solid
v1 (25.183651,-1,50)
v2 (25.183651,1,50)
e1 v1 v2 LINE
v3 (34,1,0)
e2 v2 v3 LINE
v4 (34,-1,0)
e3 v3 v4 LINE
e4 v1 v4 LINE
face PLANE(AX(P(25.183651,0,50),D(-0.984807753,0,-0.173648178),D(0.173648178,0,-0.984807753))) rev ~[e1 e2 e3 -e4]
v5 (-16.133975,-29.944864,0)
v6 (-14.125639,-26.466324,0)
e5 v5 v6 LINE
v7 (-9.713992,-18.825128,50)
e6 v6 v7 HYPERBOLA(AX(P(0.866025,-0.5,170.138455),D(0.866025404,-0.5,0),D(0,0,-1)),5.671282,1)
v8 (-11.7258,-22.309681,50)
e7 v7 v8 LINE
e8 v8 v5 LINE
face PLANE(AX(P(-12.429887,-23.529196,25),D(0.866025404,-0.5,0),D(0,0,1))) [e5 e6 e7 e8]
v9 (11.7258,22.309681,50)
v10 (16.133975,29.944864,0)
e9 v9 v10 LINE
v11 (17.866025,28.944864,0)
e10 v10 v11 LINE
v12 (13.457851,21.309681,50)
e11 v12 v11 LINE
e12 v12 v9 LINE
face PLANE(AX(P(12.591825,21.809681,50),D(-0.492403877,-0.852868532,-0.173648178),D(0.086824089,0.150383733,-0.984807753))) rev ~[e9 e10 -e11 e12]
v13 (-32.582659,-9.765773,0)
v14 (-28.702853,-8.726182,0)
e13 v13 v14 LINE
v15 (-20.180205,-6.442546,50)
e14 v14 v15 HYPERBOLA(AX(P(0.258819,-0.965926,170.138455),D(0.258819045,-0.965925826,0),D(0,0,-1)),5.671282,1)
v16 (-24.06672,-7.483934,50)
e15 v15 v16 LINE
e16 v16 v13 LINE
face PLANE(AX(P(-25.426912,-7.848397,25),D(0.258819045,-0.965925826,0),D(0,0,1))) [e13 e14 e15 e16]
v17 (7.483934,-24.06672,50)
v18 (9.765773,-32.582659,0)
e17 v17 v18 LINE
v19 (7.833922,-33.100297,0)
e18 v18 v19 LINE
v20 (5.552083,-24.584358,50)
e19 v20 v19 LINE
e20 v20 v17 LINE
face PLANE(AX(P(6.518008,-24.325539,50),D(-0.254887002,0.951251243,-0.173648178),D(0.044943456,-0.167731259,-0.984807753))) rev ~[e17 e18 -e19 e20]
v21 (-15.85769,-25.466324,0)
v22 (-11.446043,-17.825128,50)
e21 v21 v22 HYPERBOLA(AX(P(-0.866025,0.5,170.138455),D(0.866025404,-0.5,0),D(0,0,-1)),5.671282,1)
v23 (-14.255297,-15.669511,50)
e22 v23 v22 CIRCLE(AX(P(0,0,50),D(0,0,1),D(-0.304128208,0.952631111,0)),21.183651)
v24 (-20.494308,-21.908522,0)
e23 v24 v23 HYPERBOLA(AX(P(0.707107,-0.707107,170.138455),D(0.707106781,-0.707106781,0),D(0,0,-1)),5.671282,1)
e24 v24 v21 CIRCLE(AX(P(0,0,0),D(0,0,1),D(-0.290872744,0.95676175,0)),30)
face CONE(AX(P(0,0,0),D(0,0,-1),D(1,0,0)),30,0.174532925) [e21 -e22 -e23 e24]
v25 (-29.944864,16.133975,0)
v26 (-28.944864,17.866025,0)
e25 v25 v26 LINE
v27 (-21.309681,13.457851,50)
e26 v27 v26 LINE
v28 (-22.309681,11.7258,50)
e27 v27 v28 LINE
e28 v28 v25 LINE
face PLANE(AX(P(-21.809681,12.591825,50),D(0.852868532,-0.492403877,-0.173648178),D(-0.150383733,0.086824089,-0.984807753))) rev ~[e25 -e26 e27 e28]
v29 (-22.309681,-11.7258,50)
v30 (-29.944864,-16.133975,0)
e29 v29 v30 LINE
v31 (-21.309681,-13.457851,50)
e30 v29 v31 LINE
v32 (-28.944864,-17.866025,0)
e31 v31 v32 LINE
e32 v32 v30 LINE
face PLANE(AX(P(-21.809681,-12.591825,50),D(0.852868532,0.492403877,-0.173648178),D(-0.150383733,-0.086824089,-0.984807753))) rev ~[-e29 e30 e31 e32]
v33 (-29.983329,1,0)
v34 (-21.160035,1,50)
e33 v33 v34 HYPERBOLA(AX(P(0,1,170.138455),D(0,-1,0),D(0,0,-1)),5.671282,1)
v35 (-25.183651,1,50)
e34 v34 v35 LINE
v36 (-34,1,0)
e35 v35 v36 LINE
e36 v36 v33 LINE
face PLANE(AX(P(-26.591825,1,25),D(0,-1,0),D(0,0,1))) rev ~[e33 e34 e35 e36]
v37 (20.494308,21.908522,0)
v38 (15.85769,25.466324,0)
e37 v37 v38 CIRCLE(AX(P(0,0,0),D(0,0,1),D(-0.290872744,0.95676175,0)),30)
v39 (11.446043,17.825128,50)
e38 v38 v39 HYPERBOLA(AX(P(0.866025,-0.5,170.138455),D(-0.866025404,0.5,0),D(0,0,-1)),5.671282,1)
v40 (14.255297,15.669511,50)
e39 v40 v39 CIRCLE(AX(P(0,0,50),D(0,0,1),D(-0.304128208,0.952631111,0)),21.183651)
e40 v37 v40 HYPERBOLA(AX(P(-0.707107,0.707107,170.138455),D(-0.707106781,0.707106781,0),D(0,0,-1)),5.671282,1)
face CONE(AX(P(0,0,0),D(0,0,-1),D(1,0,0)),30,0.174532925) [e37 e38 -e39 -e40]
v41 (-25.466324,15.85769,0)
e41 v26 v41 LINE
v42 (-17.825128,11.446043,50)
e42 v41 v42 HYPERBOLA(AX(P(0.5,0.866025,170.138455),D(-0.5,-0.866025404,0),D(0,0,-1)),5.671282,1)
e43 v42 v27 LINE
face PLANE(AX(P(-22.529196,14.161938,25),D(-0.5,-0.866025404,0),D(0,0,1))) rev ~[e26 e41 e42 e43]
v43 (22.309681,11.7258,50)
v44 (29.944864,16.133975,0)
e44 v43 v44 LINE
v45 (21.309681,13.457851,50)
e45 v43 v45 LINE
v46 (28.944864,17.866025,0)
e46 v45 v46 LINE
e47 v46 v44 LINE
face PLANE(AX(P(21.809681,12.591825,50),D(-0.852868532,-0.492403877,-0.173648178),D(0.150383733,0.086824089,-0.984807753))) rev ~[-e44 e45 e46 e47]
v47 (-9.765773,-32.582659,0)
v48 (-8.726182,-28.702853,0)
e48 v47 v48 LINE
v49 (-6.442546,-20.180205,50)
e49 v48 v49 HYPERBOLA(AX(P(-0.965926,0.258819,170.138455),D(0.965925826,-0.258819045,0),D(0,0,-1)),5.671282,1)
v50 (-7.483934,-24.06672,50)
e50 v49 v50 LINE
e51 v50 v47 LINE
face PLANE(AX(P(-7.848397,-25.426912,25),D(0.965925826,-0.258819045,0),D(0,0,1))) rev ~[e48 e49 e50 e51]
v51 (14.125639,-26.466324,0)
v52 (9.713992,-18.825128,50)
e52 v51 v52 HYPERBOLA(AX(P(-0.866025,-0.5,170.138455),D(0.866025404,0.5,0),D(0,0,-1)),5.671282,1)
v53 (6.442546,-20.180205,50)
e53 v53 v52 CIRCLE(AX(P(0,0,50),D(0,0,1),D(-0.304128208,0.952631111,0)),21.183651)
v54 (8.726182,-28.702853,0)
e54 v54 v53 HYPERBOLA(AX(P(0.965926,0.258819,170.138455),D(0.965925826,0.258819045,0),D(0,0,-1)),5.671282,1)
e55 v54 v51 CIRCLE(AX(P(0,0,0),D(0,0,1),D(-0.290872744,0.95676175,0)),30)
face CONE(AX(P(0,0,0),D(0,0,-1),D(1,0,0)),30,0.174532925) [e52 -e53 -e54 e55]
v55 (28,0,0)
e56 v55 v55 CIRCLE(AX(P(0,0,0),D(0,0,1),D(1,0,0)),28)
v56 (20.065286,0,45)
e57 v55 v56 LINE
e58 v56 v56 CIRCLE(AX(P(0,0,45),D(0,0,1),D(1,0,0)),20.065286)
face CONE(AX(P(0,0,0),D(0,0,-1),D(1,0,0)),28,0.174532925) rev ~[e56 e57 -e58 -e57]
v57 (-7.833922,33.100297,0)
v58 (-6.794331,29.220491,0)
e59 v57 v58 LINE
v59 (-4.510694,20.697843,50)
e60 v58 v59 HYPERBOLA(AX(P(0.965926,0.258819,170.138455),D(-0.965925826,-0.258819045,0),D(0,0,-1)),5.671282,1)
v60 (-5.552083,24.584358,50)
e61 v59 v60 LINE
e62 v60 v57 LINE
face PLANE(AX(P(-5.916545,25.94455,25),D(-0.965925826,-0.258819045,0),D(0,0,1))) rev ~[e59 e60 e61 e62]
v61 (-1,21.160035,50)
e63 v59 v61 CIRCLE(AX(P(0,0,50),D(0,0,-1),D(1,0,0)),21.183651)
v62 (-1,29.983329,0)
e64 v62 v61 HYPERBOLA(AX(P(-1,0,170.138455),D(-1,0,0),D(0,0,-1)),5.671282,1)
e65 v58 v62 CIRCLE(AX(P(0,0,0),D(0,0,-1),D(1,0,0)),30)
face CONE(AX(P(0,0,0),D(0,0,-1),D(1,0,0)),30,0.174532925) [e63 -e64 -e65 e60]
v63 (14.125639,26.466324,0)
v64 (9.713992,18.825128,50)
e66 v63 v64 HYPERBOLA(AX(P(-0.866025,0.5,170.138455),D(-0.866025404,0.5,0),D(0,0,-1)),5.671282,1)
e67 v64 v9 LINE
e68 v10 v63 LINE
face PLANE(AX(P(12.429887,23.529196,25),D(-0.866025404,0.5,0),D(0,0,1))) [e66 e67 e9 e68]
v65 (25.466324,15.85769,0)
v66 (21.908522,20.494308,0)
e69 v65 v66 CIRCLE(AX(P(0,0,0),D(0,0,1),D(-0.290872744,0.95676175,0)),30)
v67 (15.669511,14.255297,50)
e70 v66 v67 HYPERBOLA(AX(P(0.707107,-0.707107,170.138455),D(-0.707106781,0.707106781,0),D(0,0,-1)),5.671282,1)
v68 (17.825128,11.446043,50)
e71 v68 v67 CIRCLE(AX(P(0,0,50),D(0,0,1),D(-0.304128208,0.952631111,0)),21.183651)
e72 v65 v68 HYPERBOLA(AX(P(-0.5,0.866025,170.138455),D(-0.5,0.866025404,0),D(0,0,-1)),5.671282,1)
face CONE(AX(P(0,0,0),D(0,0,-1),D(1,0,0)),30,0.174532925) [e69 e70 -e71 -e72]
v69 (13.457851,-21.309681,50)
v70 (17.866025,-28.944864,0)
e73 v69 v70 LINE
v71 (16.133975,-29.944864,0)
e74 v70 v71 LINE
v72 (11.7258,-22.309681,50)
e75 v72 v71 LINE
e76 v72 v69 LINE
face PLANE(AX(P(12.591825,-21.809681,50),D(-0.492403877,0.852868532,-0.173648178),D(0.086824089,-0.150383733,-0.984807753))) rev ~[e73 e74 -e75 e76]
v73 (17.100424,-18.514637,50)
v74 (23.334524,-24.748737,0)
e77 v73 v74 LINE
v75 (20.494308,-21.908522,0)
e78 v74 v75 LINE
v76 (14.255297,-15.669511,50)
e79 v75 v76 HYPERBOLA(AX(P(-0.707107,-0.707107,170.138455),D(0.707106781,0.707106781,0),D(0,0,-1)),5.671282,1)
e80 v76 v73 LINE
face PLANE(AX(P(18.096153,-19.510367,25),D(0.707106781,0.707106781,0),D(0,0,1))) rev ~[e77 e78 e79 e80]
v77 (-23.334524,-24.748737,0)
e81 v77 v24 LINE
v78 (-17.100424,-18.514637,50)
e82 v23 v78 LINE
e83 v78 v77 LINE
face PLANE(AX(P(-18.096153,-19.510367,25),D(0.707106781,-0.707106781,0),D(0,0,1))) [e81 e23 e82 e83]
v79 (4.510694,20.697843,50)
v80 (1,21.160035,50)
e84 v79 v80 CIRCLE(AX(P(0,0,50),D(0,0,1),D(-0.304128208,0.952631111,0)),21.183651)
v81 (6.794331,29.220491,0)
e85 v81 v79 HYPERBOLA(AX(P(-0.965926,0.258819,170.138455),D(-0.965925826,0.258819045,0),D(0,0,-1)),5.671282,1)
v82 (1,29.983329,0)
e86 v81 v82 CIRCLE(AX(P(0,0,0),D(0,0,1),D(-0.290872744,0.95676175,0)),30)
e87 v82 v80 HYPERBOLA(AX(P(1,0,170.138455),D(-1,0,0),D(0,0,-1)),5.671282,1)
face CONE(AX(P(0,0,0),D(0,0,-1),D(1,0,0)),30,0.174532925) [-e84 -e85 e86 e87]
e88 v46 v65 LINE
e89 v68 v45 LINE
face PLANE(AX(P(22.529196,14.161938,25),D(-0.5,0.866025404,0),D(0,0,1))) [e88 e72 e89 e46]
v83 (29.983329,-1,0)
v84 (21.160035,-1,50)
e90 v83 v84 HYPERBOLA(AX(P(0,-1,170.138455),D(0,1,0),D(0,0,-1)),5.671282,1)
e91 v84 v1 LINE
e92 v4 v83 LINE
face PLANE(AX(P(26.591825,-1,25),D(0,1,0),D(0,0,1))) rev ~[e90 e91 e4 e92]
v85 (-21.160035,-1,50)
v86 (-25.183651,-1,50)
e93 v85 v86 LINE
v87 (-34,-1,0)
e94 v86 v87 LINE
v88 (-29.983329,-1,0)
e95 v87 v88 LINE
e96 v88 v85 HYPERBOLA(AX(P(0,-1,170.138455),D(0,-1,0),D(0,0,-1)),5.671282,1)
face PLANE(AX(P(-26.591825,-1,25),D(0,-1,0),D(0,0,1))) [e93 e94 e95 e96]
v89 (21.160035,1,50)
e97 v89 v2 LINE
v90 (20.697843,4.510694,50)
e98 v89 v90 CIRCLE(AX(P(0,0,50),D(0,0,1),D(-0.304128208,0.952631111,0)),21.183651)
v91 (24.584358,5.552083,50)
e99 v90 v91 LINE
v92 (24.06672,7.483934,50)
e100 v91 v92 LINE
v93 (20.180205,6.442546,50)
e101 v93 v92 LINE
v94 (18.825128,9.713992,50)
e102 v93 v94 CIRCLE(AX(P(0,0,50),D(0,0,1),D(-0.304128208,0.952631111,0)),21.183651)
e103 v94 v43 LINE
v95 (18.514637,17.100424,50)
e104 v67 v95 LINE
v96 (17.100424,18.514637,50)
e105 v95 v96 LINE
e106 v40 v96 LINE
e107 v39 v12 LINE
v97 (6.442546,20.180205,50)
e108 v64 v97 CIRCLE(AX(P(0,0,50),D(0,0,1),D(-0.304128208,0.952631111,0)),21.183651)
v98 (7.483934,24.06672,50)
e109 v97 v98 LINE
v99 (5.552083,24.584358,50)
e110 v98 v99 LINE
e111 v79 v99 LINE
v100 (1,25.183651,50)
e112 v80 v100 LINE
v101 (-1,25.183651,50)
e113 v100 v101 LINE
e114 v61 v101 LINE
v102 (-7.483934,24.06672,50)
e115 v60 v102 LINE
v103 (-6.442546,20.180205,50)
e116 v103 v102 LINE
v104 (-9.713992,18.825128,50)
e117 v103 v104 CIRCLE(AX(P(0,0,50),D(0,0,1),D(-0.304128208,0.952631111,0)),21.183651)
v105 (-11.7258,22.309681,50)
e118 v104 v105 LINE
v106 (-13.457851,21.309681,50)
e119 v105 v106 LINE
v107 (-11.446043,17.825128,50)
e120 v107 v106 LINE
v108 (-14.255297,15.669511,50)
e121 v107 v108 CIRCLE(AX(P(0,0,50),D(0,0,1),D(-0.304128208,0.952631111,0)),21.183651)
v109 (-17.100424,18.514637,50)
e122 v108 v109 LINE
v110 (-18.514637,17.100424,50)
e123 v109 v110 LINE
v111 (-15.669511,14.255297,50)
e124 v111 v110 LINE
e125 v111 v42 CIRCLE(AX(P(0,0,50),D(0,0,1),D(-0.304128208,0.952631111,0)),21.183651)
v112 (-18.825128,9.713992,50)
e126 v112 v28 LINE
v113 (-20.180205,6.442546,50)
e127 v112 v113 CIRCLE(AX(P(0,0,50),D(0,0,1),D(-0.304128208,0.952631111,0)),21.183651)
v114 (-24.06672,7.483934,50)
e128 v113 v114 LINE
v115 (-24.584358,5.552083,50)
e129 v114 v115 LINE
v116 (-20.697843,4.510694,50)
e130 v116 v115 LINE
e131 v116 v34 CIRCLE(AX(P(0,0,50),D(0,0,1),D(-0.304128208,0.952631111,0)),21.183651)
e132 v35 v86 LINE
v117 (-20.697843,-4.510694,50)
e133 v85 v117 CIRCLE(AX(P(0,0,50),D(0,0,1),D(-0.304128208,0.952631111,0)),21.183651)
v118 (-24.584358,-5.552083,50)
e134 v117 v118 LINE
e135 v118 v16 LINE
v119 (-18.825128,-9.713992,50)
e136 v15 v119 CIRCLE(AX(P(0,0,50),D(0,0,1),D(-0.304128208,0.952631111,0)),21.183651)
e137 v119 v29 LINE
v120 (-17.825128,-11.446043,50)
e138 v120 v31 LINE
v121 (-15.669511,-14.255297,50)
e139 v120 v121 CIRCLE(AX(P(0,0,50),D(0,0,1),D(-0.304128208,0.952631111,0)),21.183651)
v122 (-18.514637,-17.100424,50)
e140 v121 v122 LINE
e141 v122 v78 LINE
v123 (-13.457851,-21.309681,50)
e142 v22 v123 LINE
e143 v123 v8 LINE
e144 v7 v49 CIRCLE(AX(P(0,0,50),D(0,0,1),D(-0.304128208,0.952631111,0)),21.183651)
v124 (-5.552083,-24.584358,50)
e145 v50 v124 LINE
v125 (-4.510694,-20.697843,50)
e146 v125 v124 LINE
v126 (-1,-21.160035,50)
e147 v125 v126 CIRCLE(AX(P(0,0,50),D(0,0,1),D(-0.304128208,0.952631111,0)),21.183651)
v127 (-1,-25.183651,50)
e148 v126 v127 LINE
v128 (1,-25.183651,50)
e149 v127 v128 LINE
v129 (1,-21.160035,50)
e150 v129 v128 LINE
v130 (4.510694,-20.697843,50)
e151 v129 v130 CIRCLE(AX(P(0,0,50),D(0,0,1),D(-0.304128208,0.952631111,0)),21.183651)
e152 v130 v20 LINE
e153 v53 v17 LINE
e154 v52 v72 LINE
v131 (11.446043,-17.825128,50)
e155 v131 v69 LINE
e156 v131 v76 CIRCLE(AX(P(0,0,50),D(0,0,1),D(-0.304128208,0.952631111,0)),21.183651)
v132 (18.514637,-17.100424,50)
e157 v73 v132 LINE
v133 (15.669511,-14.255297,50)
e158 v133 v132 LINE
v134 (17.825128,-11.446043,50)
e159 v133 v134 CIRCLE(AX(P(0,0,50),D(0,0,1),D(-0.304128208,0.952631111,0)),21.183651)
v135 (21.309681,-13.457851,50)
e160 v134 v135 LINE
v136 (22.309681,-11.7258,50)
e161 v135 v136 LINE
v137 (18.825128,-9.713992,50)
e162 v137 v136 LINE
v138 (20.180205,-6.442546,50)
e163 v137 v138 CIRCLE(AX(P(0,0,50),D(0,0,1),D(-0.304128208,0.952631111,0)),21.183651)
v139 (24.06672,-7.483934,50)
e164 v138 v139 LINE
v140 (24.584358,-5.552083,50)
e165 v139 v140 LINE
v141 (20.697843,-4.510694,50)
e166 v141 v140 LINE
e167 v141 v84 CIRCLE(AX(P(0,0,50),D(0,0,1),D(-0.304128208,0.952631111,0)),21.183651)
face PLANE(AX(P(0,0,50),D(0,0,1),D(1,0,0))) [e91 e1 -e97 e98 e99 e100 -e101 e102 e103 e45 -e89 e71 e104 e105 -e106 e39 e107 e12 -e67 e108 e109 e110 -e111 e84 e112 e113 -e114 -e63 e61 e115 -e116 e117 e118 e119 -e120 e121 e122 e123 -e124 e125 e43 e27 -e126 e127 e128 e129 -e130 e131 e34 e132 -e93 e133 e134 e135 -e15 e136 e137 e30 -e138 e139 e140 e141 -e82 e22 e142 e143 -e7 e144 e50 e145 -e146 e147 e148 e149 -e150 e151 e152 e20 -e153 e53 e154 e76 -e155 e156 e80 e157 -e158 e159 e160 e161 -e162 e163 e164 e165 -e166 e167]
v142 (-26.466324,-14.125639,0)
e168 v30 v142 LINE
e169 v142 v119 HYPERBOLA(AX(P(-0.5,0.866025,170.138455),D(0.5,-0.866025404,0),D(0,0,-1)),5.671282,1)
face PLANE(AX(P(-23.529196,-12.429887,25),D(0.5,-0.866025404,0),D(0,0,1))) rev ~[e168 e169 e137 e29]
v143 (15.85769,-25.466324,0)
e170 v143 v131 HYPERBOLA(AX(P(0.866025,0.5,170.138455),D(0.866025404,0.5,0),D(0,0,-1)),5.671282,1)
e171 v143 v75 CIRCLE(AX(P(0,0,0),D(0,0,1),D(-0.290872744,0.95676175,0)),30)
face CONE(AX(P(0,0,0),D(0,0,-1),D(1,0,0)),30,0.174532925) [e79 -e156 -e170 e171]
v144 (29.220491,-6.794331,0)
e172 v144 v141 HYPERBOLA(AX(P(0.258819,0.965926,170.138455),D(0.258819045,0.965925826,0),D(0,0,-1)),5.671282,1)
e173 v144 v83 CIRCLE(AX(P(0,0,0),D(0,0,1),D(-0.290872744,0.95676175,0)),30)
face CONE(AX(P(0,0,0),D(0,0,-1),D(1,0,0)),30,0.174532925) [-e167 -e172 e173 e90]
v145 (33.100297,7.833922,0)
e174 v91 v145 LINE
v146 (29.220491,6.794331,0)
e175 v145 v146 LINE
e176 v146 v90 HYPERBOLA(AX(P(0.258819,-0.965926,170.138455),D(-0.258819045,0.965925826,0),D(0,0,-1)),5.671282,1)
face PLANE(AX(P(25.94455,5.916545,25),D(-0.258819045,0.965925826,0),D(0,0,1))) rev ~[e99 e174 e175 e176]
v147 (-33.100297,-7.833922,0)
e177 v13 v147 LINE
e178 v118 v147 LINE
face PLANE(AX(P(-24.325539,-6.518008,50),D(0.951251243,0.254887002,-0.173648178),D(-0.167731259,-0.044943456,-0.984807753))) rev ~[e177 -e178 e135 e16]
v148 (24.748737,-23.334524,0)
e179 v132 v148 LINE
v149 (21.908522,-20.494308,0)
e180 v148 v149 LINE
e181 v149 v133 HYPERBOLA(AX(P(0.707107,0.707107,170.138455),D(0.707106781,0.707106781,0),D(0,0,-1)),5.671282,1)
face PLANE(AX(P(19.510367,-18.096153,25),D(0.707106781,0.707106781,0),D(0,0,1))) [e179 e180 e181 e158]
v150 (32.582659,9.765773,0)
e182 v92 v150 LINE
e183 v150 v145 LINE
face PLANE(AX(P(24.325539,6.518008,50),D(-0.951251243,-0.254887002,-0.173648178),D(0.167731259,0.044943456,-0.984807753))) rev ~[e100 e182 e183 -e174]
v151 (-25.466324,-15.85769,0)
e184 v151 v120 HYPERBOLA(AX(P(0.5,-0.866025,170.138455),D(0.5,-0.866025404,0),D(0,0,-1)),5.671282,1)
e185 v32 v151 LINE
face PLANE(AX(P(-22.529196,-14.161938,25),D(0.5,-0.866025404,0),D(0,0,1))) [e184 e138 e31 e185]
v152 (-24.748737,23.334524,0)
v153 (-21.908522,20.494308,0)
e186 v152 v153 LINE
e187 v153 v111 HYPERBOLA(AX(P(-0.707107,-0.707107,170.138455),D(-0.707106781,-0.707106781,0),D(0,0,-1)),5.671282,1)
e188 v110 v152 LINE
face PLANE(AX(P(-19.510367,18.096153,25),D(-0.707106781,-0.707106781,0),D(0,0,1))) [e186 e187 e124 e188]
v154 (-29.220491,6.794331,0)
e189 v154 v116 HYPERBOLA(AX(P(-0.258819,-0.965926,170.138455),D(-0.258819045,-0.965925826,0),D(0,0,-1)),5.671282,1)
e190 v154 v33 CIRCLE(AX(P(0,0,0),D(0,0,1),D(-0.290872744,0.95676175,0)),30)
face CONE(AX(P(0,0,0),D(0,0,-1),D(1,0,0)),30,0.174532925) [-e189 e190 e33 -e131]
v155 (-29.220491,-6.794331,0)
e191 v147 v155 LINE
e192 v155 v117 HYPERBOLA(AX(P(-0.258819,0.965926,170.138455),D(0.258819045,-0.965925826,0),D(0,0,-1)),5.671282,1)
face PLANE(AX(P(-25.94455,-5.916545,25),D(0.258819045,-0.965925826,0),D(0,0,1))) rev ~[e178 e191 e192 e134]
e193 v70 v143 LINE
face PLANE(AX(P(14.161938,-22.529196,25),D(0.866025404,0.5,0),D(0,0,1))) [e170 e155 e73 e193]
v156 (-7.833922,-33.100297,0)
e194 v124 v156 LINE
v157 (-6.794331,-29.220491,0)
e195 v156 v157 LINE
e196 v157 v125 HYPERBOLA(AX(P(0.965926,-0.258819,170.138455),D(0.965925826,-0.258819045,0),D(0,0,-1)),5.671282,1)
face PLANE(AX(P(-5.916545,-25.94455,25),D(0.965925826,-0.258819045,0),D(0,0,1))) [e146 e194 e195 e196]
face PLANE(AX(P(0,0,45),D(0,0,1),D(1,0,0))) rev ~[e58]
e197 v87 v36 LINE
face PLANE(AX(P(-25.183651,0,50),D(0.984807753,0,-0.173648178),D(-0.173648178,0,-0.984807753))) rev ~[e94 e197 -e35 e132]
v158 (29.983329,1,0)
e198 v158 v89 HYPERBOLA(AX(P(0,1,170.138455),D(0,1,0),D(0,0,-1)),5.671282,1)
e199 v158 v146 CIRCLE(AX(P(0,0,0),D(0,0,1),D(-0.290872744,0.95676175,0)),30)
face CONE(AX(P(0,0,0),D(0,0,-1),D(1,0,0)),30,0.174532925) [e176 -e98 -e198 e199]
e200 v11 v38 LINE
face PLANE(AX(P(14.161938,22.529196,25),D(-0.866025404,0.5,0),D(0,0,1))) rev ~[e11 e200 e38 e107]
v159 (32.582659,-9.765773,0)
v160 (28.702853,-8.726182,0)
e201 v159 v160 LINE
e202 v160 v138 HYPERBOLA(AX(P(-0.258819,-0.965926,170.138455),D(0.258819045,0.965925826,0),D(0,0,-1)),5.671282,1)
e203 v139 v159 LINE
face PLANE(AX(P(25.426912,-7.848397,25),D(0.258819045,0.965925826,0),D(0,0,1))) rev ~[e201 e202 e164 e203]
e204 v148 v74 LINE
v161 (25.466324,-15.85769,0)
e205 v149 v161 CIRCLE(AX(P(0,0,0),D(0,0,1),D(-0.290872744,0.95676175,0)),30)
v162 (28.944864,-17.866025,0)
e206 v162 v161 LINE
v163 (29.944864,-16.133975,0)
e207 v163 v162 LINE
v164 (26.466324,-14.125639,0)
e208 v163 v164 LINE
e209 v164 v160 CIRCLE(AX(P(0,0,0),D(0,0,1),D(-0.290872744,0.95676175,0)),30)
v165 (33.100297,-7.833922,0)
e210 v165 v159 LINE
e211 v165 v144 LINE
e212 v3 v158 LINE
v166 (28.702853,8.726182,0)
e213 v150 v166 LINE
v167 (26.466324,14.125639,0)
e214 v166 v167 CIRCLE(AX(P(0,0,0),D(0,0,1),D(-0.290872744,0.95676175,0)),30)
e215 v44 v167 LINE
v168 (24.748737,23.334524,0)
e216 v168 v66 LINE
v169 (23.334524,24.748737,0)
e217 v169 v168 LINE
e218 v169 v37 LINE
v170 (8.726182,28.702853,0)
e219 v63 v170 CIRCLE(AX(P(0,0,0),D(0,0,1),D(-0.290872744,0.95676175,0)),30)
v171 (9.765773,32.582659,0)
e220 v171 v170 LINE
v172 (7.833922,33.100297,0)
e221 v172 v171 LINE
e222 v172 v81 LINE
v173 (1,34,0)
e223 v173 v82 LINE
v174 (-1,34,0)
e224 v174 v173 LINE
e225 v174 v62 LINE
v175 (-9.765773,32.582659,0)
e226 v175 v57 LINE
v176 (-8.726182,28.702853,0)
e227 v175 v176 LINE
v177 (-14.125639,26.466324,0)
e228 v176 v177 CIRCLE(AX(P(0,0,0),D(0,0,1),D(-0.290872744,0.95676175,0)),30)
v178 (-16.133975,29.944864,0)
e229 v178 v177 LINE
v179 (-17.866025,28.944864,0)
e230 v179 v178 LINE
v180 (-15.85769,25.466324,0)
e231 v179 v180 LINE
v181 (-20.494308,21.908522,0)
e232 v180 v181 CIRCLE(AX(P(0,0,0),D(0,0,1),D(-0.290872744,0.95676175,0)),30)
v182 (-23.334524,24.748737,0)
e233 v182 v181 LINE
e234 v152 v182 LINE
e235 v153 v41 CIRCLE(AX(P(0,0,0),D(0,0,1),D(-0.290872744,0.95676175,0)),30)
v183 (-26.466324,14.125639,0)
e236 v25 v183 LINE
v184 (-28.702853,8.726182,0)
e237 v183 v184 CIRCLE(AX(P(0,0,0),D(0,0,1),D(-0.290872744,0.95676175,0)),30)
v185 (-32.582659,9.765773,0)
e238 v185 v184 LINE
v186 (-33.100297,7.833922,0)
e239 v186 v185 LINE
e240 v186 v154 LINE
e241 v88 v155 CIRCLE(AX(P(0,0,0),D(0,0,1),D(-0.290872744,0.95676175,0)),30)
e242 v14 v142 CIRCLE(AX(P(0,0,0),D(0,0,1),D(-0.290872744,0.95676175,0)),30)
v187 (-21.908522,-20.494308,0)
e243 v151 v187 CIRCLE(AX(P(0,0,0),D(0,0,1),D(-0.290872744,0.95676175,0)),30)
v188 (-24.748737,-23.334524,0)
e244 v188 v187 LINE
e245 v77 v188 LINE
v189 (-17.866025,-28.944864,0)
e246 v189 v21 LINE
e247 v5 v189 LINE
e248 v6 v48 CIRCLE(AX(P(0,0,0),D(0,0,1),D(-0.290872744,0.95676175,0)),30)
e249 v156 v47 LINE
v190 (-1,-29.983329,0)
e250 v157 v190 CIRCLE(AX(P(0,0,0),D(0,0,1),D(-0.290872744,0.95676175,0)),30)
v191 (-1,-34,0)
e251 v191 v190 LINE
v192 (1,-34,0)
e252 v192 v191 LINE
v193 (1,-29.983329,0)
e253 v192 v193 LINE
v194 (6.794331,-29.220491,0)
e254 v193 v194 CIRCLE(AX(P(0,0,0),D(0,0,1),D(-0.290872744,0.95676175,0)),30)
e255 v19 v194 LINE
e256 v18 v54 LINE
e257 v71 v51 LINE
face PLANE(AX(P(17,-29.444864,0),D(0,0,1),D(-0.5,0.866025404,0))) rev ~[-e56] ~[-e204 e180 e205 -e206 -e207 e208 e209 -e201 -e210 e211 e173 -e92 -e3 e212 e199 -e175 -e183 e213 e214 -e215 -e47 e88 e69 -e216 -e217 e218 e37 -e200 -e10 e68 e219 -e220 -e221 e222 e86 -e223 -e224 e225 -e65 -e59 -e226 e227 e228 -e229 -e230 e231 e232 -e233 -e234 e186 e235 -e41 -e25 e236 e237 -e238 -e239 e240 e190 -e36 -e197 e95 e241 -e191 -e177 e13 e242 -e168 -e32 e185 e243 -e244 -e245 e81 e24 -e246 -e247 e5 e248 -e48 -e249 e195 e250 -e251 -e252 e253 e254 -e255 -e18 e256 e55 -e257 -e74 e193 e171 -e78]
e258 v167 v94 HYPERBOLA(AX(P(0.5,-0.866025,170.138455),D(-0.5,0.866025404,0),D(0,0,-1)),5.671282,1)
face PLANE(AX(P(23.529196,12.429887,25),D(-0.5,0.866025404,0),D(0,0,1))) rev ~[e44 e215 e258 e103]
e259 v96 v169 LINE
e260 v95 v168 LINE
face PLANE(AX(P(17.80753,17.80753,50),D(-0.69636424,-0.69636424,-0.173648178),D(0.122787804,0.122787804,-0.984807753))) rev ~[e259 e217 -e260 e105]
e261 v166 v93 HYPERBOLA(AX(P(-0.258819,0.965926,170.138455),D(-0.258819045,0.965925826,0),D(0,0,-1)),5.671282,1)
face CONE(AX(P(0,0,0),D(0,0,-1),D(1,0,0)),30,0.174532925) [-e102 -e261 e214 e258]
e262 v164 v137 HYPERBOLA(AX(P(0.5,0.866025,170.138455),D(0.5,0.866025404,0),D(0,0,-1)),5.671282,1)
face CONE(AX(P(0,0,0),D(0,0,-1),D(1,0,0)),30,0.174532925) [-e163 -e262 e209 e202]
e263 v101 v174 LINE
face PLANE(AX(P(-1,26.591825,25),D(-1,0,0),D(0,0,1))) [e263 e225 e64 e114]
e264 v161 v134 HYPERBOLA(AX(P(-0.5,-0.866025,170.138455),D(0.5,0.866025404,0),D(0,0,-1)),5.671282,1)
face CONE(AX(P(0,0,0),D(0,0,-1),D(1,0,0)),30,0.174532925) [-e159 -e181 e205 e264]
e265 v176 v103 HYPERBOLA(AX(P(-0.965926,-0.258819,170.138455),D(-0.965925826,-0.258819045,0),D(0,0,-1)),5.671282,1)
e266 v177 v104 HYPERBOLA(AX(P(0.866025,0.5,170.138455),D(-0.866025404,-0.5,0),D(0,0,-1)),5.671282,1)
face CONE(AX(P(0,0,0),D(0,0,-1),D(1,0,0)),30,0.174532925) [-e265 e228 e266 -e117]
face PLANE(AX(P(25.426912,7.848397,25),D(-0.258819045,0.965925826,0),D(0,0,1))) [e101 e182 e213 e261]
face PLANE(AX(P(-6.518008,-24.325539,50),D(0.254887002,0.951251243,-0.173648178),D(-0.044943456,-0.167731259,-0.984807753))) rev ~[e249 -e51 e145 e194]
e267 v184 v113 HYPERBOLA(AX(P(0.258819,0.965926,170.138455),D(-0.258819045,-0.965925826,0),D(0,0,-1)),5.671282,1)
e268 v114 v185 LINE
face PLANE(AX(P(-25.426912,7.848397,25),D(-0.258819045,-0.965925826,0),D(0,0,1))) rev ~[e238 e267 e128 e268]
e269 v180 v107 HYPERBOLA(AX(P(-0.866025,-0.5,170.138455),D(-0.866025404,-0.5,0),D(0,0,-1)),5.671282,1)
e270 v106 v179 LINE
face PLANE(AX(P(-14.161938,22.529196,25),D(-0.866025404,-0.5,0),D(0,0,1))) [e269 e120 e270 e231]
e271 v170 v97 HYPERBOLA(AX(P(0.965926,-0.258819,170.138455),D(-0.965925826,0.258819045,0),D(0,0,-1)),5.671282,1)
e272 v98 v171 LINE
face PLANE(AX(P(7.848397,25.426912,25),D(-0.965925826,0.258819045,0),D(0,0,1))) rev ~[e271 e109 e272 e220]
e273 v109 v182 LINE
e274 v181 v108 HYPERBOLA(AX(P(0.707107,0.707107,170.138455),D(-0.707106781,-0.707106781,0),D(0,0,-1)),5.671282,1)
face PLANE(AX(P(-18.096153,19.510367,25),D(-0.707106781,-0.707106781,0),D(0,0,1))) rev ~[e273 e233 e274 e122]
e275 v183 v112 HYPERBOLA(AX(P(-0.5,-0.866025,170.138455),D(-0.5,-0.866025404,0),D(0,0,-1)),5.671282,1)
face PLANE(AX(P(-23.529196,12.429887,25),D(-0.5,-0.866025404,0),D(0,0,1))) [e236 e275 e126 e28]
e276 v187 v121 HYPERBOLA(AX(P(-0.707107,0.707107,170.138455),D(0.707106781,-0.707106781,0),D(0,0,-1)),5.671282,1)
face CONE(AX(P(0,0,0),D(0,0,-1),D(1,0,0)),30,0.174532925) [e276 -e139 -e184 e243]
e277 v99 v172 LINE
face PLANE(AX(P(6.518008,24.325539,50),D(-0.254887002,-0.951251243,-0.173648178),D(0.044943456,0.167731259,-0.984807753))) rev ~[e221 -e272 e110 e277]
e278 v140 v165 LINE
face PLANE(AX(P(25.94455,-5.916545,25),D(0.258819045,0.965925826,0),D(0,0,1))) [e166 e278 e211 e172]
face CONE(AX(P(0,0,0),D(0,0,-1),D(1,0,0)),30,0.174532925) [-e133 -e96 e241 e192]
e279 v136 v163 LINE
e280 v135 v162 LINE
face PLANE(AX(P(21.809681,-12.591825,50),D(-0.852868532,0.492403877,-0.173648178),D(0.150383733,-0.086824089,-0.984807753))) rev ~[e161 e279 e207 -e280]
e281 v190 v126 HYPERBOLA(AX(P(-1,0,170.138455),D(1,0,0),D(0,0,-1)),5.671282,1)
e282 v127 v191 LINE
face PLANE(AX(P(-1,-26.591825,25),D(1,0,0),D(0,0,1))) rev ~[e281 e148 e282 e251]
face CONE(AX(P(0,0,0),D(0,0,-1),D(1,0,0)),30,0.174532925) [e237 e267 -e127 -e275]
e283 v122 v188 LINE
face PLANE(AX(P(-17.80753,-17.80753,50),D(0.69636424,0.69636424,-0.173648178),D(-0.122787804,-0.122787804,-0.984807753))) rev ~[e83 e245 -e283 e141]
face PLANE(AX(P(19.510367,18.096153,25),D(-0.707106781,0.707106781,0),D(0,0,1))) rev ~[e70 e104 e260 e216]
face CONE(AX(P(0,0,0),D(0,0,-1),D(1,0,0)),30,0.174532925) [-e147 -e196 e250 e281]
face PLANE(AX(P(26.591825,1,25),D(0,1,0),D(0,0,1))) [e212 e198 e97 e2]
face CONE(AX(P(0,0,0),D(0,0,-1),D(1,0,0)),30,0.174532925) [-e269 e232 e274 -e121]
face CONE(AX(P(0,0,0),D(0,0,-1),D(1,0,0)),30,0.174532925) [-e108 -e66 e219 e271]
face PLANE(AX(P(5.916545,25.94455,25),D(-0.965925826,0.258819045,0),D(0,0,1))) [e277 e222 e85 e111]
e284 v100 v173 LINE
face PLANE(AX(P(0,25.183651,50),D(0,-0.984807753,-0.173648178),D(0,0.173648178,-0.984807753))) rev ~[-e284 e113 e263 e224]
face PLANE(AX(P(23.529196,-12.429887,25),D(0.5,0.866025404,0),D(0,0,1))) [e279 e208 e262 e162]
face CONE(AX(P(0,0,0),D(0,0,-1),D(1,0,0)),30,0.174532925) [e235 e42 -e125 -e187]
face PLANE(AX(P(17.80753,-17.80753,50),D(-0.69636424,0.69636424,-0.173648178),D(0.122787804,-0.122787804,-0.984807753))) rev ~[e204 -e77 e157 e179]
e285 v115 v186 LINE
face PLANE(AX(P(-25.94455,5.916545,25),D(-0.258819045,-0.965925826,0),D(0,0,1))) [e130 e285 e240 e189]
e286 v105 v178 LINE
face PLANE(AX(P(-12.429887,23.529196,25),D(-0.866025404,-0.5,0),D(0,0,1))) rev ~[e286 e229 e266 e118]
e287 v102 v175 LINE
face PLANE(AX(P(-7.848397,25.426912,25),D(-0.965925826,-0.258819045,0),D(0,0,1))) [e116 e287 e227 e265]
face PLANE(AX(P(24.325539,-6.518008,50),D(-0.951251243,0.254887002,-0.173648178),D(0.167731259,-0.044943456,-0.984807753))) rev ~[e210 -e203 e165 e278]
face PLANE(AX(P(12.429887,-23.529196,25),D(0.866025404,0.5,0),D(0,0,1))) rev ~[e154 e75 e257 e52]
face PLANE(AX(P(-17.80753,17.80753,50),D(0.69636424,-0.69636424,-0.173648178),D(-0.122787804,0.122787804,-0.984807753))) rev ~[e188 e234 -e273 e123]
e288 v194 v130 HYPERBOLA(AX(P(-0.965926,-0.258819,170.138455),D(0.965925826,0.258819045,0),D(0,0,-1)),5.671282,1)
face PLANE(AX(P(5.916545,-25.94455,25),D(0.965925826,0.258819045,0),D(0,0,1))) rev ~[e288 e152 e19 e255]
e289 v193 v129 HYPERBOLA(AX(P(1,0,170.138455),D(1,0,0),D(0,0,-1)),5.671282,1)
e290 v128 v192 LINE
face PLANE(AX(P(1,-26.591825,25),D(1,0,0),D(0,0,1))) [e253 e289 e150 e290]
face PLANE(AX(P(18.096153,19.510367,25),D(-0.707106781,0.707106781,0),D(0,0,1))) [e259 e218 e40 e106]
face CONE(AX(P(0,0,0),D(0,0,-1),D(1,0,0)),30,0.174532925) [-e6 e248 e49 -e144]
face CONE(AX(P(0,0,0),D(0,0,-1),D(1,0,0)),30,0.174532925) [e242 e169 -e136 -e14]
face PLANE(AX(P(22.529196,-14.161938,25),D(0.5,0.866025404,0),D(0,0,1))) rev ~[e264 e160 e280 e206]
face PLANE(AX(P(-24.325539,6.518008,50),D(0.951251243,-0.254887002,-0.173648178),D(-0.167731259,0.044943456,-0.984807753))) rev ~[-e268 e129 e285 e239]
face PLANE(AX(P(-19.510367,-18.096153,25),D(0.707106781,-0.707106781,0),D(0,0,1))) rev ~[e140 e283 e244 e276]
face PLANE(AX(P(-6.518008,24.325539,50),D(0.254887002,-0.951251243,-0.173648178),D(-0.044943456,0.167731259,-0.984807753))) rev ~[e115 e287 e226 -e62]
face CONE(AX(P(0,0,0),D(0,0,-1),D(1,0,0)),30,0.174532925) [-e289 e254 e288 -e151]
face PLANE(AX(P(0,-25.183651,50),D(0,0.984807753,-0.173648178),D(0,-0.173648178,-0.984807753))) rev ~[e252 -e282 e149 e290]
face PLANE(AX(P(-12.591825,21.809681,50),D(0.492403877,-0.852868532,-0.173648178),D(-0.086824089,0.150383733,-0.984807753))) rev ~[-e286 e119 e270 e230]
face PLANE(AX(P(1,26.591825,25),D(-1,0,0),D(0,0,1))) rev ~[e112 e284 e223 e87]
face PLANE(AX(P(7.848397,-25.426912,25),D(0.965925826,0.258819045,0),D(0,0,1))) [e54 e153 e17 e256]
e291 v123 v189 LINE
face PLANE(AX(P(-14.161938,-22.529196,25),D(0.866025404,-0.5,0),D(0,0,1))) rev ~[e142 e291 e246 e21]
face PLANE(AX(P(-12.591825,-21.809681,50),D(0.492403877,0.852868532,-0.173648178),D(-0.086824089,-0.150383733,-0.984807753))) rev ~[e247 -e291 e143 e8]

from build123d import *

# Parameters (mm, degrees)
SKETCH1_R           = 30
BOSS_EXTRUDE6_DEPTH = 50
BOSS_EXTRUDE6_TAPER = 10
SKETCH5_R           = 28
CUT_EXTRUDE1_DEPTH  = 50
CUT_EXTRUDE1_TAPER  = 10
SKETCH6_R           = 21.183650965
BOSS_EXTRUDE7_DEPTH = 5
BOSS_EXTRUDE8_DEPTH = 1
CIRPATTERN2_COUNT   = 24


with BuildPart() as part:
    # Sketch1 → Boss-Extrude6 (new body)
    with BuildSketch(Plane.XY):
        Circle(SKETCH1_R)
    extrude(amount=BOSS_EXTRUDE6_DEPTH, taper=BOSS_EXTRUDE6_TAPER)

    # Sketch5 → Cut-Extrude1 (cut)
    with BuildSketch(Plane.XY):
        Circle(SKETCH5_R)
    extrude(amount=CUT_EXTRUDE1_DEPTH, taper=CUT_EXTRUDE1_TAPER, mode=Mode.SUBTRACT)

    # Sketch6 → Boss-Extrude7 (add)
    with BuildSketch(Plane.XY.offset(50)):
        Circle(SKETCH6_R)
    extrude(amount=-BOSS_EXTRUDE7_DEPTH)

    # Sketch7 → Boss-Extrude8 (add, symmetric)
    with BuildSketch(Plane(origin=(0, 0, 0), x_dir=(0, 0, -1), z_dir=(1, 0, 0))):
        Polygon((0, 28), (-50, 19.183650965), (-50, 25.183650965), (0, 34), align=None)
    boss_extrude8 = extrude(amount=BOSS_EXTRUDE8_DEPTH, both=True)

    # CirPattern2: Boss-Extrude8 ×24 about axis
    cirpattern2_axis = Axis((0, 0, 0), (0, 0, 1))
    for i in range(1, CIRPATTERN2_COUNT):
        add(boss_extrude8.rotate(cirpattern2_axis, i * 360 / CIRPATTERN2_COUNT))


solid = part.part
